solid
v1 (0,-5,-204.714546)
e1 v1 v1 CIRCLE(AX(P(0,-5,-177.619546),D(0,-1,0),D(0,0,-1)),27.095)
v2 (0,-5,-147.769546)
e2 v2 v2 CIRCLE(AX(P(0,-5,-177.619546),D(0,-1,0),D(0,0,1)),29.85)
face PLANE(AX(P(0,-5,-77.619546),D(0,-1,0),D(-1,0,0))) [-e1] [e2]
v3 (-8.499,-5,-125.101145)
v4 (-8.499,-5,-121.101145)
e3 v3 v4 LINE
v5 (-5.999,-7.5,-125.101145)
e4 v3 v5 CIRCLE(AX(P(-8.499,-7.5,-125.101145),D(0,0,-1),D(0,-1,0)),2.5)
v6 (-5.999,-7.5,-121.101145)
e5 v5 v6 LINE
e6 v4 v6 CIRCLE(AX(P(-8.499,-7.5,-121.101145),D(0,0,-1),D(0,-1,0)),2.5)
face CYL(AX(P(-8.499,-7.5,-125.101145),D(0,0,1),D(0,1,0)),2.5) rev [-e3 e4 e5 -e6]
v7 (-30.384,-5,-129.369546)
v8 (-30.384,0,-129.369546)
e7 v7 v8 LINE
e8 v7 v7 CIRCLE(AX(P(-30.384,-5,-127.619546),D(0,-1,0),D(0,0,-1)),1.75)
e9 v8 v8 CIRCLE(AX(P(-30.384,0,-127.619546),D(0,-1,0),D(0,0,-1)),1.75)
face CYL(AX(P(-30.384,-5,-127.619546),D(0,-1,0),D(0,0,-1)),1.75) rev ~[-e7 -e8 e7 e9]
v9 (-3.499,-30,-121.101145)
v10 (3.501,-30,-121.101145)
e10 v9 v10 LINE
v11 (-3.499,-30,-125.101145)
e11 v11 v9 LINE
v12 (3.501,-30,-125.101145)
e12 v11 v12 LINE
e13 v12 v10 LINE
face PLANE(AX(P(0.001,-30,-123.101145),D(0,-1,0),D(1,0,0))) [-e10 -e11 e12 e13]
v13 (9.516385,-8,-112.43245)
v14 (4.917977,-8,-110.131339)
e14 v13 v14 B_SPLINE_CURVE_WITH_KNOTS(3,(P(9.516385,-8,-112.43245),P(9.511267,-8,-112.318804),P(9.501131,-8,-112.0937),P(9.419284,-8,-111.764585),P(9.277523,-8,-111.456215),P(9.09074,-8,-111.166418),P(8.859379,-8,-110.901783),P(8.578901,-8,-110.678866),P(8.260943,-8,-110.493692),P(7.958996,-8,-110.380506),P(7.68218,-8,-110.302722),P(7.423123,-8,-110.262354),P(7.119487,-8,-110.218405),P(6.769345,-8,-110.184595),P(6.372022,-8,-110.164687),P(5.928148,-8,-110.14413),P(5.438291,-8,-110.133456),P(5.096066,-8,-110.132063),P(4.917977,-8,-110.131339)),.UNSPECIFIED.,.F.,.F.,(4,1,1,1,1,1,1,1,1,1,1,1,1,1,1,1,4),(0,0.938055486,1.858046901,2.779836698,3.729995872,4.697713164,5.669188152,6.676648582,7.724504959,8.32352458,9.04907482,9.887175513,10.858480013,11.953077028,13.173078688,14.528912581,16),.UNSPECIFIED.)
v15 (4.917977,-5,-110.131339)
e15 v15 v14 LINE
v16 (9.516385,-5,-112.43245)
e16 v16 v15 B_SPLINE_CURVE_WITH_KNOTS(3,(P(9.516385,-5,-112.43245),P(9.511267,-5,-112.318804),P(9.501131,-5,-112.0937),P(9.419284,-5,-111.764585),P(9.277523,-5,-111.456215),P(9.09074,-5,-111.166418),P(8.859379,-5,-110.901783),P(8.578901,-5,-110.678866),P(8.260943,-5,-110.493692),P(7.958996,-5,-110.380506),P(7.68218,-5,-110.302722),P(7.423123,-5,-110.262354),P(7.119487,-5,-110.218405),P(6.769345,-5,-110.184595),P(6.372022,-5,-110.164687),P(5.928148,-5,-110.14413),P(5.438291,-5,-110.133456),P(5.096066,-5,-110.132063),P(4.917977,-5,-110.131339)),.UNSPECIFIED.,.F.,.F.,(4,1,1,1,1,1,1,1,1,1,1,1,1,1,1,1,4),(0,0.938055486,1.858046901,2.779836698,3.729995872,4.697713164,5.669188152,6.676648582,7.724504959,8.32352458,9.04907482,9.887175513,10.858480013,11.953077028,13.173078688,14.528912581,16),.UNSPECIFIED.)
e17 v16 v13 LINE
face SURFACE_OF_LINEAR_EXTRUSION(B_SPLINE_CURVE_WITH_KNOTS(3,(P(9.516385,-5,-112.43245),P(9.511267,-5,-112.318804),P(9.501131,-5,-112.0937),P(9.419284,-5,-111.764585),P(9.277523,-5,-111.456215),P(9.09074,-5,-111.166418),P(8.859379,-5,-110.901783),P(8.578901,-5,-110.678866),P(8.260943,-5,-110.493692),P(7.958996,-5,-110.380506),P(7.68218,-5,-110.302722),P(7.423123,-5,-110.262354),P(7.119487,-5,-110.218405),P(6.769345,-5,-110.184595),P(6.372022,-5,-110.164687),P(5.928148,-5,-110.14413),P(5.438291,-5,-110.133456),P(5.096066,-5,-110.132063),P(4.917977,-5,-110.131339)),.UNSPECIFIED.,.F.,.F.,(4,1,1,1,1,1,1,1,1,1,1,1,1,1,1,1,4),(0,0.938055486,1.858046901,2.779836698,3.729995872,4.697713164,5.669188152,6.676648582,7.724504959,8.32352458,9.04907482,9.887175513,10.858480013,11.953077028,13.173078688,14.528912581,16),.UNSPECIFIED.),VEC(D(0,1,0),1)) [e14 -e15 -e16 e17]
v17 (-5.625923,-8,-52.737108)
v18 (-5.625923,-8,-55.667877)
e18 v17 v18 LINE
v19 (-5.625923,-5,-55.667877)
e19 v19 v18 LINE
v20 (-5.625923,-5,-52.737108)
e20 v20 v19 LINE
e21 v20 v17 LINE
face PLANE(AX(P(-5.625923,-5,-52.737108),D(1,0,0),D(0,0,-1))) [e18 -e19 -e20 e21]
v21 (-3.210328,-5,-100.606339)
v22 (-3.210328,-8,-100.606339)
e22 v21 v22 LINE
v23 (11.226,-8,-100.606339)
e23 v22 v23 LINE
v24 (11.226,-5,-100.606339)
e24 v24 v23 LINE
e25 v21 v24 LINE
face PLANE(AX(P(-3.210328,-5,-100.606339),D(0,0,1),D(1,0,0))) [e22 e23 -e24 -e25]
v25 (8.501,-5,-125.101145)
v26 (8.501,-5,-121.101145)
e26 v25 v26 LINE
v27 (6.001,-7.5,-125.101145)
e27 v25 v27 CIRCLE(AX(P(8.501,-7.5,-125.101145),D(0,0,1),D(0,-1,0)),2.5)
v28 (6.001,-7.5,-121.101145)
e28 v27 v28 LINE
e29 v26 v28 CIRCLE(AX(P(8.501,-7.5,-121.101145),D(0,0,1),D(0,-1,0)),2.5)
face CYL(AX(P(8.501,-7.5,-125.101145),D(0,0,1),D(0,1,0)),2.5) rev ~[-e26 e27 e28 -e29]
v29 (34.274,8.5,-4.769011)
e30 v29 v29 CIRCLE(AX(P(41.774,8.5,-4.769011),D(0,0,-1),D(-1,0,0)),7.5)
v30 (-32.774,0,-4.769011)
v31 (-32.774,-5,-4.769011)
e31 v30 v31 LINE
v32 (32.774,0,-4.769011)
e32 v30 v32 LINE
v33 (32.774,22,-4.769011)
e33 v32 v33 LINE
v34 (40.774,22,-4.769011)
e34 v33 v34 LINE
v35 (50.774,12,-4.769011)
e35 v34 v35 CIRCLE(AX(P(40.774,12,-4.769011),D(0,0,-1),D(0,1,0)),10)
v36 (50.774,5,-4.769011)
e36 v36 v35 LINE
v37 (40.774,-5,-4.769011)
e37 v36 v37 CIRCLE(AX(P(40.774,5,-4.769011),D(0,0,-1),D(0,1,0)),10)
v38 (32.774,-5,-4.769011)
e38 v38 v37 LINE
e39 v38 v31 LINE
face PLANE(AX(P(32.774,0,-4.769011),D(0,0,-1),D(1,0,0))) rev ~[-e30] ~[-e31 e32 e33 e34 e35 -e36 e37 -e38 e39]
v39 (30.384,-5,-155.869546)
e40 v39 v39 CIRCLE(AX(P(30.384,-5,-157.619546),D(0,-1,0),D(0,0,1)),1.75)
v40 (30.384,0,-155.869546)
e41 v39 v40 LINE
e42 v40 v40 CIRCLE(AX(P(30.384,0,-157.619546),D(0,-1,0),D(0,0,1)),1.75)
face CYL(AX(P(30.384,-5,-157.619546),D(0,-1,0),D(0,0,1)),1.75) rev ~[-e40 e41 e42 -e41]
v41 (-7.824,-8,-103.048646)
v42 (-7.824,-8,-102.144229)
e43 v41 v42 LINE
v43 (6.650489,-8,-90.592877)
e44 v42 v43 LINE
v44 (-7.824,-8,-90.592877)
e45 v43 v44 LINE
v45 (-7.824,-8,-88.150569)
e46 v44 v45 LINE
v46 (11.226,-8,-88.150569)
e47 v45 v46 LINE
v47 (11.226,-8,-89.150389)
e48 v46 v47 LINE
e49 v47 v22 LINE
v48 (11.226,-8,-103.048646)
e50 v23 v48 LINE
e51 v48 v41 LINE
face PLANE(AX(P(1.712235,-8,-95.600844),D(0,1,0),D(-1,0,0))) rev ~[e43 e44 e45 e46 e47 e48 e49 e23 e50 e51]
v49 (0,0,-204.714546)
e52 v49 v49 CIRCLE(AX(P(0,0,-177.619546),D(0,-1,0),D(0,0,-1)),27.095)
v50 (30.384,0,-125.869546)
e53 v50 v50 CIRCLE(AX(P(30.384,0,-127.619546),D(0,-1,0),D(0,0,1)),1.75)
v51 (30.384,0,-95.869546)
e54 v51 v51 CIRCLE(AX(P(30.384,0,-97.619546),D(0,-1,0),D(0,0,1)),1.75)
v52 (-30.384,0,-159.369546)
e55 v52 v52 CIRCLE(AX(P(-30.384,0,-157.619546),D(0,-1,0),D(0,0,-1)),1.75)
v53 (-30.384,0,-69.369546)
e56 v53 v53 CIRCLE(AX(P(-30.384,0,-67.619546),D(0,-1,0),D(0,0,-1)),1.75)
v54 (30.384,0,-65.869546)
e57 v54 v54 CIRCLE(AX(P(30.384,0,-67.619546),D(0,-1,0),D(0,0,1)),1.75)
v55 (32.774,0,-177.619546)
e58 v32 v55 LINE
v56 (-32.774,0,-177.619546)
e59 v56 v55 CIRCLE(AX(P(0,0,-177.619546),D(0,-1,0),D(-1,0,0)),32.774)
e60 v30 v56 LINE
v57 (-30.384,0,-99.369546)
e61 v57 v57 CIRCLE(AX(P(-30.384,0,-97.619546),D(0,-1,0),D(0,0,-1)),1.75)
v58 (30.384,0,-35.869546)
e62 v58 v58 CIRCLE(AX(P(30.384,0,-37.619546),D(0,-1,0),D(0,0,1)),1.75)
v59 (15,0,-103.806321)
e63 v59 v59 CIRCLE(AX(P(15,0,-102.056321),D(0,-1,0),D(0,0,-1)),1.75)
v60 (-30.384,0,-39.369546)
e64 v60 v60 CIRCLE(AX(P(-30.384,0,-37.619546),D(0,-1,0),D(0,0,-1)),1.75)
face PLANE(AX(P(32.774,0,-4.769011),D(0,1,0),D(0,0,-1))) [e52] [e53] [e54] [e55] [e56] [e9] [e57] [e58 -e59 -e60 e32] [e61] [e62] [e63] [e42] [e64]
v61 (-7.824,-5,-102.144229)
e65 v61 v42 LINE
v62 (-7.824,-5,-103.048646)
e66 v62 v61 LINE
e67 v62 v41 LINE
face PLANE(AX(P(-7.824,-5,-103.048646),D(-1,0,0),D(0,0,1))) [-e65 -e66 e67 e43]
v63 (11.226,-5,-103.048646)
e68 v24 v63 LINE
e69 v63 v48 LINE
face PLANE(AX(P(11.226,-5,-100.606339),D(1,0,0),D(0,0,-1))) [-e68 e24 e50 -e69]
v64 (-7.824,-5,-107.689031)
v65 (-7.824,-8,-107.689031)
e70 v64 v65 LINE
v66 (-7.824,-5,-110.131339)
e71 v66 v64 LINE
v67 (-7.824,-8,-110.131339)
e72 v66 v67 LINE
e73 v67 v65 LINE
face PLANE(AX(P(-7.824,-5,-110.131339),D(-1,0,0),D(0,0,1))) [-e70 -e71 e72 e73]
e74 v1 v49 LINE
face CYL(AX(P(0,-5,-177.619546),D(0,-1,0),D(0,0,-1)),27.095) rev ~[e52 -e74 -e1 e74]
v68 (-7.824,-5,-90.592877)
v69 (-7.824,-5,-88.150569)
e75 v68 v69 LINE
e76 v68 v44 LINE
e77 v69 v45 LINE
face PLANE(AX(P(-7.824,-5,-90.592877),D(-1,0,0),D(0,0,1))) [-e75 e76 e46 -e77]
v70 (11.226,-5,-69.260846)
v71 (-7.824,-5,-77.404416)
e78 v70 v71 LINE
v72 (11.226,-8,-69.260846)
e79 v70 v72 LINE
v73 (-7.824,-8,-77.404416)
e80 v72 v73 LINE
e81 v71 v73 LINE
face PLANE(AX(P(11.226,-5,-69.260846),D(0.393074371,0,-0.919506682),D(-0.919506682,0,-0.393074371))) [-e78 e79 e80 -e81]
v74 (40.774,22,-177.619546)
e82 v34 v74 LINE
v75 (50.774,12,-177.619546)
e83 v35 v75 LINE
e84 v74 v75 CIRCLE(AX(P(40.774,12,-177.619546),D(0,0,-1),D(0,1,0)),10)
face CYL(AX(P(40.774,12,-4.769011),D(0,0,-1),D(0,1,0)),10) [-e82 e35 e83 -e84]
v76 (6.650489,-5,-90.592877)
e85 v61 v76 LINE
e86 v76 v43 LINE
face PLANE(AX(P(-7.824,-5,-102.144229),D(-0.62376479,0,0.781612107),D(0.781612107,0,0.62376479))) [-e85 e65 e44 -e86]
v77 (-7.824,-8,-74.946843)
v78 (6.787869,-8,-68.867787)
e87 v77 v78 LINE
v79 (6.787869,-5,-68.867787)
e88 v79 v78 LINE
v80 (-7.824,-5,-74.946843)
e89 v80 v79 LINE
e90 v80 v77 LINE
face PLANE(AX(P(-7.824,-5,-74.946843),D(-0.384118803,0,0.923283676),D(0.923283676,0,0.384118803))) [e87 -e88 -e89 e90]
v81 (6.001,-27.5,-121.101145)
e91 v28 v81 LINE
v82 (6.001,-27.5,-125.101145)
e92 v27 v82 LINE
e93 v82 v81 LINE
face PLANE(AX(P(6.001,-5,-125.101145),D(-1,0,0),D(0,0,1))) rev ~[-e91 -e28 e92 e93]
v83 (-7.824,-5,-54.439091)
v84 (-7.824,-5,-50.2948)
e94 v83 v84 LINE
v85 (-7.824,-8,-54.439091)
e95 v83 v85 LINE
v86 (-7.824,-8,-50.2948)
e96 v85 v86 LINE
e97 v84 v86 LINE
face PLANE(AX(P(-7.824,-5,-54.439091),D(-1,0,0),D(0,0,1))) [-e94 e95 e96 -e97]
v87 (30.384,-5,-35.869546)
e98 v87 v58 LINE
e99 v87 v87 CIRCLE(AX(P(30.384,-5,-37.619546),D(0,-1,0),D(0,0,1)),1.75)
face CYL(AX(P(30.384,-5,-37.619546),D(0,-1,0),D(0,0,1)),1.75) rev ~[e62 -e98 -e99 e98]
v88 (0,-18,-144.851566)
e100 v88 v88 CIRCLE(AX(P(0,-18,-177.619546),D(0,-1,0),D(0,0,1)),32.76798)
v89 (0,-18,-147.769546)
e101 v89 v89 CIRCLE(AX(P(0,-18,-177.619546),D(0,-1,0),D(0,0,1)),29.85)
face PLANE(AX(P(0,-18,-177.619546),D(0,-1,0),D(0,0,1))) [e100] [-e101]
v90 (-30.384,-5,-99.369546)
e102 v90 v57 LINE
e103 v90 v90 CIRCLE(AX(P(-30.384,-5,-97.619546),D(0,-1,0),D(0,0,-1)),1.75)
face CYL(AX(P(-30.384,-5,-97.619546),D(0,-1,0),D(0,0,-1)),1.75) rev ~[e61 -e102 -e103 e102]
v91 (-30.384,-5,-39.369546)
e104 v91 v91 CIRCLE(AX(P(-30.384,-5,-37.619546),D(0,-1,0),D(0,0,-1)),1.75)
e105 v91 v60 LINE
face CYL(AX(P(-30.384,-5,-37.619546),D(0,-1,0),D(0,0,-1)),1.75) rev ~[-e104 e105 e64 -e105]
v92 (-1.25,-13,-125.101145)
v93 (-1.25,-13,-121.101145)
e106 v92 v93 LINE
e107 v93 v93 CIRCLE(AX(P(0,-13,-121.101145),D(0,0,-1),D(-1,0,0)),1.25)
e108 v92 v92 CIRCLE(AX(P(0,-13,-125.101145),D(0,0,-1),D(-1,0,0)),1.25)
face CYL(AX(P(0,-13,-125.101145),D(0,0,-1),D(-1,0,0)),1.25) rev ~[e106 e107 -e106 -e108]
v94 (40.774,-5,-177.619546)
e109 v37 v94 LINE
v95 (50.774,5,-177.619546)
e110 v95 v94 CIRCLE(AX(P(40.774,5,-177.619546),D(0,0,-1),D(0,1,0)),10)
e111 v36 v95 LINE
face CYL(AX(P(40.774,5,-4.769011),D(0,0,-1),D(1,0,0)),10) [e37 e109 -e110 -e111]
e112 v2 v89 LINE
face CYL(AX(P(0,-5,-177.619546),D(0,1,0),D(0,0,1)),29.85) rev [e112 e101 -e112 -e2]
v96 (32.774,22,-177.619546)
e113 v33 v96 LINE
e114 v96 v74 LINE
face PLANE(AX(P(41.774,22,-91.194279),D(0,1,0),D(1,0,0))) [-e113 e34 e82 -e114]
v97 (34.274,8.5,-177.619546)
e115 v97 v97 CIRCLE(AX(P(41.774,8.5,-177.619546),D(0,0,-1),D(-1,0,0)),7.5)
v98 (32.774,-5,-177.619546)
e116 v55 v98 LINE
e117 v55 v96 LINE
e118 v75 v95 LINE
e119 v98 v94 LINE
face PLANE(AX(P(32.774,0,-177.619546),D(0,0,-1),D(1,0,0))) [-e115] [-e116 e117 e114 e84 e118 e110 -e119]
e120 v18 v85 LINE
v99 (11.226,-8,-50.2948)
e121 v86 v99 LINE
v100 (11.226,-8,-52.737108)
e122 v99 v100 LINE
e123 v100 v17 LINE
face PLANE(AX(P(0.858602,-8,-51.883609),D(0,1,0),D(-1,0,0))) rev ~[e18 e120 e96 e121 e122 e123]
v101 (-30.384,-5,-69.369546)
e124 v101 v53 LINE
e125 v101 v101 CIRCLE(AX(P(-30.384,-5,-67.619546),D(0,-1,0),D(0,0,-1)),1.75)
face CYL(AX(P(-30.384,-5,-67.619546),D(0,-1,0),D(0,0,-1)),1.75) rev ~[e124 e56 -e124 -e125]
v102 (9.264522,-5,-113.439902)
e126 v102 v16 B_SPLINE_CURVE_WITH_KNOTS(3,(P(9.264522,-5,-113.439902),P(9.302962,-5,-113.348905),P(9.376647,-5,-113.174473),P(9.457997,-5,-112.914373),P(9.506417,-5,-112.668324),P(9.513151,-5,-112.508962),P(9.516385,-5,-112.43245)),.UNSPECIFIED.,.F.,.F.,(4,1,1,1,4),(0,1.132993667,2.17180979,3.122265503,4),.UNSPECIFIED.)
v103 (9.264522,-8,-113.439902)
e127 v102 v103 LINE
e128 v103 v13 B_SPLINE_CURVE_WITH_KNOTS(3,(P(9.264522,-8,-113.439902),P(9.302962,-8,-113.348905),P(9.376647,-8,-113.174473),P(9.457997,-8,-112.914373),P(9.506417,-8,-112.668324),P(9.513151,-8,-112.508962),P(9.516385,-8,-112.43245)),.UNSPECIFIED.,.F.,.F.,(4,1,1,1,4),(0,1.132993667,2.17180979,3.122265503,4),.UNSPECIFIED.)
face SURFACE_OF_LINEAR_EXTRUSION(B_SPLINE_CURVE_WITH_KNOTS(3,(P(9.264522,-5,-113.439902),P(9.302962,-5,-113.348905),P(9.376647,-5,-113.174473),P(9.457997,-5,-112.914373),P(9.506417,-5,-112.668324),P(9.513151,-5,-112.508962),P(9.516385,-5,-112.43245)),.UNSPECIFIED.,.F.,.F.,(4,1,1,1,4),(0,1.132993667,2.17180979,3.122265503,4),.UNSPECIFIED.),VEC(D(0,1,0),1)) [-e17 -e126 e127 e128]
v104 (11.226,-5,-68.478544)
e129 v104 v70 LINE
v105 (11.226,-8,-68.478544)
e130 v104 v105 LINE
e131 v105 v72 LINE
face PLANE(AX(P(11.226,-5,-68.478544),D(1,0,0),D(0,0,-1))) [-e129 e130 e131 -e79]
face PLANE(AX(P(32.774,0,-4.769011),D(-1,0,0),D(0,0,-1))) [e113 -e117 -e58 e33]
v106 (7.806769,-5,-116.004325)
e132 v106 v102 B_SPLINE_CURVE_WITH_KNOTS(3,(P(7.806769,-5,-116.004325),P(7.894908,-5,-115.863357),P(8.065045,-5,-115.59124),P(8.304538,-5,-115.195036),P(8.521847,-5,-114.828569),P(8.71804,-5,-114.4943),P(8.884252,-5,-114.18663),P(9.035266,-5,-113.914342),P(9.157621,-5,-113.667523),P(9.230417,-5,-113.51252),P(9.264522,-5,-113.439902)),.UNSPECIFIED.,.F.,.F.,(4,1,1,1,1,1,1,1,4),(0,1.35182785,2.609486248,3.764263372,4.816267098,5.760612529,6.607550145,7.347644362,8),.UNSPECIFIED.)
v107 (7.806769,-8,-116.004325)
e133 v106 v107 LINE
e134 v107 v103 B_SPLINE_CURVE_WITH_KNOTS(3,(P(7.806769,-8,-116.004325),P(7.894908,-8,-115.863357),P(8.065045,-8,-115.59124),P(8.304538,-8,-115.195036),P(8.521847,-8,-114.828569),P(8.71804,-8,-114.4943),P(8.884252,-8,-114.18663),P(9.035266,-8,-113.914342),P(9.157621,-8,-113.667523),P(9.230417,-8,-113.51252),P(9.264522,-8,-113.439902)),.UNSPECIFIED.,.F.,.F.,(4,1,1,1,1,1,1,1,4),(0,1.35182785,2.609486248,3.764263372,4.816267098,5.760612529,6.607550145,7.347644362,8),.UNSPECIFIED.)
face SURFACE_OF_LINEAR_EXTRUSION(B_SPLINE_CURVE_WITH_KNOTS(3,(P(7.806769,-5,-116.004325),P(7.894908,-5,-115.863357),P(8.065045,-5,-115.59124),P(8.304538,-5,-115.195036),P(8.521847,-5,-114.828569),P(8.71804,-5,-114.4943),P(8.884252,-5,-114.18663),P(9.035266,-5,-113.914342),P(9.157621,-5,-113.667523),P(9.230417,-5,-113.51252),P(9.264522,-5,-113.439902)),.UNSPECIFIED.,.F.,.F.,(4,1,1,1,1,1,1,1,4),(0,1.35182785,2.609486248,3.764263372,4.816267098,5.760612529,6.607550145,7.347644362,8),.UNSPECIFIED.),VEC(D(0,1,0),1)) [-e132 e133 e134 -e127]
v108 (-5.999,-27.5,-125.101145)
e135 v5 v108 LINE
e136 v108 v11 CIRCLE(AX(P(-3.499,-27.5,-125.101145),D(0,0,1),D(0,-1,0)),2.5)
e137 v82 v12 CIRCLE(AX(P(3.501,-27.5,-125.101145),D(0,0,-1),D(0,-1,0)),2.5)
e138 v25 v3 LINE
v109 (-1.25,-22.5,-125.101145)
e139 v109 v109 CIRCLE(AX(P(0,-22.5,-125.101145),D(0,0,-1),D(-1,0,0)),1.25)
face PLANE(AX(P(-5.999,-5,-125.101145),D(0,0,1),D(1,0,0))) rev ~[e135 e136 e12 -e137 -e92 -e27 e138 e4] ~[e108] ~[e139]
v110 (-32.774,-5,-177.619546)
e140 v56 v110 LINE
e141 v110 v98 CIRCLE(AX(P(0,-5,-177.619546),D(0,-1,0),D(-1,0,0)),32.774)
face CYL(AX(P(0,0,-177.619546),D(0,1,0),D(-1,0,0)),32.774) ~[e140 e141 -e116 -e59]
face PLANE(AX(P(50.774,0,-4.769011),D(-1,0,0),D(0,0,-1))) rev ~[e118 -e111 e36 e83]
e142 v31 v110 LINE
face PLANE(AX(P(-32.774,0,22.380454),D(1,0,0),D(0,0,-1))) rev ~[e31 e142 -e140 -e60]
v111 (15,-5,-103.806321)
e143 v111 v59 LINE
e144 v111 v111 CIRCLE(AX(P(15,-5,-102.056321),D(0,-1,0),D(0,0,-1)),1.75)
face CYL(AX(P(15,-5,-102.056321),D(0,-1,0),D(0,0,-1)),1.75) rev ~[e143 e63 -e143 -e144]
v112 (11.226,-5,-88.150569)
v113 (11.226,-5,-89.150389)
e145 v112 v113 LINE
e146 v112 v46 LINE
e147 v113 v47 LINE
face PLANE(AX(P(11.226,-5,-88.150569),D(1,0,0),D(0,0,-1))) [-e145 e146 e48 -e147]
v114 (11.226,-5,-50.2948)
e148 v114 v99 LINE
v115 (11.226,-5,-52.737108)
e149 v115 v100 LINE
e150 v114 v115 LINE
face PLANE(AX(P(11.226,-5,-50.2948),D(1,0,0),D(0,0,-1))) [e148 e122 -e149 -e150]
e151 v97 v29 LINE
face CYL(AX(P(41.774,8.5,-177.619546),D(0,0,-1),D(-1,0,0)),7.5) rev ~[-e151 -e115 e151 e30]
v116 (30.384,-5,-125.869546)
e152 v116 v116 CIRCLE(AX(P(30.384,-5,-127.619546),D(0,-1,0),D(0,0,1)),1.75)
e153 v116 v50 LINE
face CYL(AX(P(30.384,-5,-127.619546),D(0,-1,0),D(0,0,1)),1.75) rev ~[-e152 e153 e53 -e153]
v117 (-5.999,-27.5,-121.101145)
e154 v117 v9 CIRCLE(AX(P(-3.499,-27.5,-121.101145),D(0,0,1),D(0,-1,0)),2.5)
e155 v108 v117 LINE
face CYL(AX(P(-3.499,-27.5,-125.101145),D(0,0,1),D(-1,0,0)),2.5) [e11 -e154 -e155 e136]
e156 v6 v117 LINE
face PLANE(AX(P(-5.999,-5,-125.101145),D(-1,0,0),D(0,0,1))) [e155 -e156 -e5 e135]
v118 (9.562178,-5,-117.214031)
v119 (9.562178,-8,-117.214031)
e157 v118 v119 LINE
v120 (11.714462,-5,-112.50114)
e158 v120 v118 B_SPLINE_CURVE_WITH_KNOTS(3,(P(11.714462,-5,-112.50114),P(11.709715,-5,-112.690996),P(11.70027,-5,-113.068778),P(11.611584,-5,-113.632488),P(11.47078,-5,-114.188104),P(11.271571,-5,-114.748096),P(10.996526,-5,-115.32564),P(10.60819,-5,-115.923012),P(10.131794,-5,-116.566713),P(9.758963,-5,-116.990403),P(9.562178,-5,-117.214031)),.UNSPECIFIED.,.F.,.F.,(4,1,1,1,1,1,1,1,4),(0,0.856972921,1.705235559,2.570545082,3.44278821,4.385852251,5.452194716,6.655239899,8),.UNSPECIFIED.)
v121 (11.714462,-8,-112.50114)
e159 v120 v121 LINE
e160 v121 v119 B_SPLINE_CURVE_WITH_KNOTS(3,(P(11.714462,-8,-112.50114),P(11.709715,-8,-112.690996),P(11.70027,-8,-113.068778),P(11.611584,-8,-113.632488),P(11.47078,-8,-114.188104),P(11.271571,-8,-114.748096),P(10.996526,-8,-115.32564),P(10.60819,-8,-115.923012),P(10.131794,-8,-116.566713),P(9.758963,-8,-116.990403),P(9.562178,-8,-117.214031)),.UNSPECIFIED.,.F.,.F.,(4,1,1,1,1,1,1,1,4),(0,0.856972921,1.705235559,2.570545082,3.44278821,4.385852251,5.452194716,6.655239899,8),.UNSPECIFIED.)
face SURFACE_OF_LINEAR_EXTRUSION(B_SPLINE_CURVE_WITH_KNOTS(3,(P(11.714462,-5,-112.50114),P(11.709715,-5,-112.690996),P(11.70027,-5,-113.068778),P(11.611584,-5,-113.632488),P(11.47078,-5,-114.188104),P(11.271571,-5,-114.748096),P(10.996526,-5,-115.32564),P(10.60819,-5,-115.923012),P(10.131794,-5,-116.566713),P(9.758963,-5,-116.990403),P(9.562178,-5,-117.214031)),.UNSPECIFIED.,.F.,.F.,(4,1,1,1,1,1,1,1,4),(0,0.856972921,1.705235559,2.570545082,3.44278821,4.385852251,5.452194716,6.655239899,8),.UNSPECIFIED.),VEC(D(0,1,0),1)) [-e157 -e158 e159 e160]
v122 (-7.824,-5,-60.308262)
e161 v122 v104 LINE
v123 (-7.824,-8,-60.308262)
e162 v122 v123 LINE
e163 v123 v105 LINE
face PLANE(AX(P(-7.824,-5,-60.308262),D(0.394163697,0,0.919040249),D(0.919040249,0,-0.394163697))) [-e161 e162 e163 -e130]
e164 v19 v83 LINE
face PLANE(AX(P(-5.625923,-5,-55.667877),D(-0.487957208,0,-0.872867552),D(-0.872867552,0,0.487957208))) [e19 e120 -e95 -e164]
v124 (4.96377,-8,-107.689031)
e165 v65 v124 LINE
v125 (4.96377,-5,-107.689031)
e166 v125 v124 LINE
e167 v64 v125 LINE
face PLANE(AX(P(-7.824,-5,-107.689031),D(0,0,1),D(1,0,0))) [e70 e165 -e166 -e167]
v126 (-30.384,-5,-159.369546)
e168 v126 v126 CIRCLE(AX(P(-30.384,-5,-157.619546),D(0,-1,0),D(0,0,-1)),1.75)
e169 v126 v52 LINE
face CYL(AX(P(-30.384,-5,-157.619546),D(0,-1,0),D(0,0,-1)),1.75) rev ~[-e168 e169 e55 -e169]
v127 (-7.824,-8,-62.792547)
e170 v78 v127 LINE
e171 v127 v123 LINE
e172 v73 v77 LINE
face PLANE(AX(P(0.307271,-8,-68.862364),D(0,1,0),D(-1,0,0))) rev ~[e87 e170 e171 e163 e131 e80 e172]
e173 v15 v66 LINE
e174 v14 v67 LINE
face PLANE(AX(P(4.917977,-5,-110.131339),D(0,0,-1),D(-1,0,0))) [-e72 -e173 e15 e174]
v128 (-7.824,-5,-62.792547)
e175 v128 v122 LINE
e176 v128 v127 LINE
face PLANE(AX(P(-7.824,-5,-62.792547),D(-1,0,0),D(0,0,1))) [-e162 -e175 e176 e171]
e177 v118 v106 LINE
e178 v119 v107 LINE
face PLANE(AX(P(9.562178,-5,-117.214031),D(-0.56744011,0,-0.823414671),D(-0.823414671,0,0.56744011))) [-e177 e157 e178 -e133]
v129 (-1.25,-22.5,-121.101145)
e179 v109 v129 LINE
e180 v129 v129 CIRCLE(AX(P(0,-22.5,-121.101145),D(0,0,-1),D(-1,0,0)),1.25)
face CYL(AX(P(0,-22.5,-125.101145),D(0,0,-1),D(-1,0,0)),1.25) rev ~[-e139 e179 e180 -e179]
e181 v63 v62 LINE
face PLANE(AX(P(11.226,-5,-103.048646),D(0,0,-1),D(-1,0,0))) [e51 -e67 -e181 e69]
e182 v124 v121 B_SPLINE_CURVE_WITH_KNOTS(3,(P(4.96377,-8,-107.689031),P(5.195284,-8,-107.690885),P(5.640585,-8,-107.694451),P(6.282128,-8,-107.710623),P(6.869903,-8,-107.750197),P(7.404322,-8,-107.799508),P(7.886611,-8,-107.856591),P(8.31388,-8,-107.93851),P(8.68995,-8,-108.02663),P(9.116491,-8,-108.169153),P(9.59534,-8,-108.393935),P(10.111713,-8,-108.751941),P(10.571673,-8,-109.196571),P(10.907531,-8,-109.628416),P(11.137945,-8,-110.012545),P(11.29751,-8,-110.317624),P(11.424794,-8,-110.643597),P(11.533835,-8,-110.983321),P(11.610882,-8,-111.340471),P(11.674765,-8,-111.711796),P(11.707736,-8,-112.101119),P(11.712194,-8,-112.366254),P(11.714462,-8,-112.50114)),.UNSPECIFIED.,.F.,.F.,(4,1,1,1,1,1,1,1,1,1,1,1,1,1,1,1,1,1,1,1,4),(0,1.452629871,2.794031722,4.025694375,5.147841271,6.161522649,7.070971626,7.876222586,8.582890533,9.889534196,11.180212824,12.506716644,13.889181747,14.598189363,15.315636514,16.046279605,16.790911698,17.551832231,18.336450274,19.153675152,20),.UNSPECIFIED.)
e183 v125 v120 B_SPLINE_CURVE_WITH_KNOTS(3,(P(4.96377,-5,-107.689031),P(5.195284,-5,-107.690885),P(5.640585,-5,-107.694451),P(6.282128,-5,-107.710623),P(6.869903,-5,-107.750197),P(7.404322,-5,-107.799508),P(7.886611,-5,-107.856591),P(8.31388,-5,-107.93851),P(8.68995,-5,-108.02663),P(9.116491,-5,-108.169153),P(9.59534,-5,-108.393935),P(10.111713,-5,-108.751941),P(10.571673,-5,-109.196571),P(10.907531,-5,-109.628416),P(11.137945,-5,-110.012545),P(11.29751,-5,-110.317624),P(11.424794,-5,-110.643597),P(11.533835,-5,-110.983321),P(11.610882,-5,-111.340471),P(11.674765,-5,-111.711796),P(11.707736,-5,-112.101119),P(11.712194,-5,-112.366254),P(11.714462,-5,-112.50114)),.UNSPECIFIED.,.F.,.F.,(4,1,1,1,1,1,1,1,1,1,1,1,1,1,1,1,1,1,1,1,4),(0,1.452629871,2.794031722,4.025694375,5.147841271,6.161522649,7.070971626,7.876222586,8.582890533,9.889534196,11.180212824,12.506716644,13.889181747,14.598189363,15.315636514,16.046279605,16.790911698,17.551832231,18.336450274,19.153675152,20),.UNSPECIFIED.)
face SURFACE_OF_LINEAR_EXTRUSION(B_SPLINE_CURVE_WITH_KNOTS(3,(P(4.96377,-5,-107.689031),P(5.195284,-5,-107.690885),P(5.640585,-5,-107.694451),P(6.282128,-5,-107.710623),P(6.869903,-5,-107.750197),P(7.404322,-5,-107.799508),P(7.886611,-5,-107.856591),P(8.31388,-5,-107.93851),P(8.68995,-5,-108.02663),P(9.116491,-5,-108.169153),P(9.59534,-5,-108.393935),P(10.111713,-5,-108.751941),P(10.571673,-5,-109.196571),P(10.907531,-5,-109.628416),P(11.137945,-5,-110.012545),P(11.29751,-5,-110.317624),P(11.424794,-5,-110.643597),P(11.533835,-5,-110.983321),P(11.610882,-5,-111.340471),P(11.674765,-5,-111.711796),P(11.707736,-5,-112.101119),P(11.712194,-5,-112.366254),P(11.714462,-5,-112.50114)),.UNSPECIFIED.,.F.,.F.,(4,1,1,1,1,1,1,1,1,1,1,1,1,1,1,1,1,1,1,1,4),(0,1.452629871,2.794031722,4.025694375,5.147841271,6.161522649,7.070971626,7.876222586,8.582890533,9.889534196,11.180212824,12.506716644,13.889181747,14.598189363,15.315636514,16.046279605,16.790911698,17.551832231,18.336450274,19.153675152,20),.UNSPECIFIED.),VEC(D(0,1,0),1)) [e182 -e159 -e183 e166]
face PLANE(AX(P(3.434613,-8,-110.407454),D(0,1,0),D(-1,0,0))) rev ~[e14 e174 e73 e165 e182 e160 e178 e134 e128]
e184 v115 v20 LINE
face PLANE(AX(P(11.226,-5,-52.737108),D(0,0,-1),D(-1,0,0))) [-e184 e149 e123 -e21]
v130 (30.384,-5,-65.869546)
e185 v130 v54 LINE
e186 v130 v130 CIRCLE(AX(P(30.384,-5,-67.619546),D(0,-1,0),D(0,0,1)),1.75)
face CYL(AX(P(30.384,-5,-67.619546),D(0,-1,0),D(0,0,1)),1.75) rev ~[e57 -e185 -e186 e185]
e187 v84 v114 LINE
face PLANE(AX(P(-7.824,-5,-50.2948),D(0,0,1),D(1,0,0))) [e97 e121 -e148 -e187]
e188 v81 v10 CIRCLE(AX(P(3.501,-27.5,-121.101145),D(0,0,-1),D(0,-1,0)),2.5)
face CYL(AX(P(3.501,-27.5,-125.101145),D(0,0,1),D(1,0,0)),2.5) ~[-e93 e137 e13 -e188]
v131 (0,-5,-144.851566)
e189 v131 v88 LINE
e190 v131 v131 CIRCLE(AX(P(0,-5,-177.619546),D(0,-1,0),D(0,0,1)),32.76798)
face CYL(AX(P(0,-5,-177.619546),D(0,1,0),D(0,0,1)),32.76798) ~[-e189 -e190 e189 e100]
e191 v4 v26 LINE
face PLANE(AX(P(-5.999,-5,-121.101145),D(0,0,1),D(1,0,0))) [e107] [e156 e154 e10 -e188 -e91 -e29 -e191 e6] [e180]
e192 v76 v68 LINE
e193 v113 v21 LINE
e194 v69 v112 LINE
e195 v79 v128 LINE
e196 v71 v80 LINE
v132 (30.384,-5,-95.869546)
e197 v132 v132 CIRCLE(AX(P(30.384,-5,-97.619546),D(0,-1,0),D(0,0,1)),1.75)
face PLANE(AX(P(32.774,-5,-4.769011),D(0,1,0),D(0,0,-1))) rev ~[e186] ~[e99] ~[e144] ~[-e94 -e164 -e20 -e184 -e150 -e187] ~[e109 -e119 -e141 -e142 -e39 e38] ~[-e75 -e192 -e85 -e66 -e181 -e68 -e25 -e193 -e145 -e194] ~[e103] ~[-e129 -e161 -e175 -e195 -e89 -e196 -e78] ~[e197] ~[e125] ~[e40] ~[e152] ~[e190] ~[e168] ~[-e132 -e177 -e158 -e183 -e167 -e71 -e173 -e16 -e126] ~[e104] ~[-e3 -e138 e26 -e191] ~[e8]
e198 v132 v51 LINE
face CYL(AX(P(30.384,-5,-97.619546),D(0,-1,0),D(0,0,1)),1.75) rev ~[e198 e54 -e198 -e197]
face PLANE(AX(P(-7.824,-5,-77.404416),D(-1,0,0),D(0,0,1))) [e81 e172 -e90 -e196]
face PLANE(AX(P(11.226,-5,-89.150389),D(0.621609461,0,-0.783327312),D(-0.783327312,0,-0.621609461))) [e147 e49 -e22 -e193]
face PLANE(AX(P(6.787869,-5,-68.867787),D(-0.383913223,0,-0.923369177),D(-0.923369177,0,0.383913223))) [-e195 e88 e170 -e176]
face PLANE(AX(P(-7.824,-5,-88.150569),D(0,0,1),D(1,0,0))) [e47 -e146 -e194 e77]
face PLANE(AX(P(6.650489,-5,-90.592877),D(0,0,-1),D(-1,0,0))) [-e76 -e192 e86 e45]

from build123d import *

# Parameters (mm, degrees)
SKETCH1_R            = 2.75
SKETCH1_R_2          = 1.25
SKETCH1_R_3          = 1.75
SKETCH1_R_4          = 4.5
BOSS_EXTRUDE10_DEPTH = 5
SKETCH1_16_R         = 1.25
BOSS_EXTRUDE11_DEPTH = 5
SKETCH3_R            = 1.75
CUT_EXTRUDE5_DEPTH   = 17
CUT_EXTRUDE7_DEPTH   = 10
SKETCH1_18_R         = 4.5
SKETCH1_18_R_2       = 1.75
BOSS_EXTRUDE12_DEPTH = 5
SKETCH10_R           = 32.76798012
SKETCH10_R_2         = 29.85
BOSS_EXTRUDE13_DEPTH = 13
SKETCH11_R           = 27.095
CUT_EXTRUDE8_DEPTH   = 13
BOSS_EXTRUDE14_DEPTH = 3
SKETCH13_W           = 12
SKETCH13_H           = 4
BOSS_EXTRUDE15_DEPTH = 25
SKETCH14_R           = 1.25
CUT_EXTRUDE9_DEPTH   = 25
FILLET1_R            = 2.5
SKETCH18_W           = 172.850535033
SKETCH18_H           = 5
BOSS_EXTRUDE18_DEPTH = 18
SKETCH19_W           = 18
SKETCH19_H           = 172.850535033
BOSS_EXTRUDE19_DEPTH = 22
SKETCH20_R           = 7.5
CUT_EXTRUDE11_DEPTH  = 208
FILLET3_R            = 10


with BuildPart() as part:
    # Sketch1 → Boss-Extrude10 (new body)
    with BuildSketch(Plane(origin=(0, 0, 0), x_dir=(1, 0, 0), z_dir=(0, 1, 0))):
        with BuildLine():
            Line((-32.774, 177.619546288), (-32.774, -22.380453712))
            ThreePointArc((-32.774, -22.380453712), (0, -55.154453712), (32.774, -22.380453712))
            Line((32.774, -22.380453712), (32.774, 177.619546288))
            ThreePointArc((32.774, 177.619546288), (0, 210.393546288), (-32.774, 177.619546288))
        make_face()
        with Locations((-11.258330249, -28.880453712)):
            Circle(SKETCH1_R, mode=Mode.SUBTRACT)
        with Locations((-11.258330249, -15.880453712)):
            Circle(SKETCH1_R, mode=Mode.SUBTRACT)
        with Locations((-6.733414, 27.619546288)):
            Circle(SKETCH1_R_2, mode=Mode.SUBTRACT)
        with Locations((-6.733414, 37.119546288)):
            Circle(SKETCH1_R_2, mode=Mode.SUBTRACT)
        with Locations((-14.032659813, 67.637846288)):
            Circle(SKETCH1_R_3, mode=Mode.SUBTRACT)
        with Locations((0, -35.380453712)):
            Circle(SKETCH1_R, mode=Mode.SUBTRACT)
        with Locations((11.258330249, -28.880453712)):
            Circle(SKETCH1_R, mode=Mode.SUBTRACT)
        with Locations((0, -9.380453712)):
            Circle(SKETCH1_R, mode=Mode.SUBTRACT)
        with Locations((11.258330249, -15.880453712)):
            Circle(SKETCH1_R, mode=Mode.SUBTRACT)
        with Locations((0, 53.605186475)):
            Circle(SKETCH1_R_3, mode=Mode.SUBTRACT)
        with Locations((14.032659813, 67.637846288)):
            Circle(SKETCH1_R_3, mode=Mode.SUBTRACT)
        with Locations((0, 81.6705061)):
            Circle(SKETCH1_R_3, mode=Mode.SUBTRACT)
        with Locations((0, 177.619546288)):
            Circle(SKETCH1_R_4, mode=Mode.SUBTRACT)
        with Locations((0, 67.637846288)):
            Circle(SKETCH1_R_4, mode=Mode.SUBTRACT)
    extrude(amount=-BOSS_EXTRUDE10_DEPTH)

    # Sketch1<16> → Boss-Extrude11 (add)
    with BuildSketch(Plane(origin=(0, 0, 0), x_dir=(1, 0, 0), z_dir=(0, 1, 0))):
        with Locations((-6.733414, 37.119546288)):
            Circle(SKETCH1_16_R)
        with Locations((-6.733414, 27.619546288)):
            Circle(SKETCH1_16_R)
    extrude(amount=-BOSS_EXTRUDE11_DEPTH)

    # Sketch3 → Cut-Extrude5 (cut)
    with BuildSketch(Plane.XZ.offset(5)):
        with Locations((15, -102.056321071)):
            Circle(SKETCH3_R)
        with Locations((-30.384, -67.619546288)):
            Circle(SKETCH3_R)
        with Locations((-30.384, -37.619546288)):
            Circle(SKETCH3_R)
        with Locations((-30.384, -97.619546288)):
            Circle(SKETCH3_R)
        with Locations((-30.384, -127.619546288)):
            Circle(SKETCH3_R)
        with Locations((-30.384, -157.619546288)):
            Circle(SKETCH3_R)
        with Locations((30.384, -157.619546288)):
            Circle(SKETCH3_R)
        with Locations((30.384, -127.619546288)):
            Circle(SKETCH3_R)
        with Locations((30.384, -97.619546288)):
            Circle(SKETCH3_R)
        with Locations((30.384, -67.619546288)):
            Circle(SKETCH3_R)
        with Locations((30.384, -37.619546288)):
            Circle(SKETCH3_R)
    extrude(amount=-CUT_EXTRUDE5_DEPTH, mode=Mode.SUBTRACT)

    # Sketch2 → Cut-Extrude7 (cut)
    with BuildSketch(Plane.XZ):
        with BuildLine():
            Line((-32.774000001, -4.769011255), (32.774000001, -4.769011255))
            Line((32.774000001, -4.769011255), (32.774000001, 22.380453712))
            ThreePointArc((32.774000001, 22.380453712), (0, 55.154453713), (-32.774000001, 22.380453712))
            Line((-32.774000001, 22.380453712), (-32.774000001, -4.769011255))
        make_face()
    extrude(amount=CUT_EXTRUDE7_DEPTH, mode=Mode.SUBTRACT)

    # Sketch1<18> → Boss-Extrude12 (add)
    with BuildSketch(Plane(origin=(0, 0, 0), x_dir=(1, 0, 0), z_dir=(0, 1, 0))):
        with Locations((0, 67.637846288)):
            Circle(SKETCH1_18_R)
        with Locations((0, 53.605186475)):
            Circle(SKETCH1_18_R_2)
        with Locations((-14.032659813, 67.637846288)):
            Circle(SKETCH1_18_R_2)
        with Locations((0, 81.6705061)):
            Circle(SKETCH1_18_R_2)
        with Locations((14.032659813, 67.637846288)):
            Circle(SKETCH1_18_R_2)
    extrude(amount=-BOSS_EXTRUDE12_DEPTH)

    # Sketch10 → Boss-Extrude13 (add)
    with BuildSketch(Plane.XZ.offset(5)):
        with Locations((0, -177.619546288)):
            Circle(SKETCH10_R)
        with Locations((0, -177.619546288)):
            Circle(SKETCH10_R_2, mode=Mode.SUBTRACT)
    extrude(amount=BOSS_EXTRUDE13_DEPTH)

    # Sketch11 → Cut-Extrude8 (cut)
    with BuildSketch(Plane.XZ.offset(5)):
        with Locations((0, -177.619546288)):
            Circle(SKETCH11_R)
    extrude(amount=-CUT_EXTRUDE8_DEPTH, mode=Mode.SUBTRACT)

    # Sketch5 → Boss-Extrude14 (add)
    with BuildSketch(Plane.XZ.offset(5)):
        Polygon((-7.824000001, -54.439091018), (-7.824000001, -50.294800153), (11.225999999, -50.294800153), (11.225999999, -52.737107845), (-5.625923078, -52.737107845), (-5.625923078, -55.667877076), align=None)
        Polygon((-7.824000001, -77.404415537), (-7.824000001, -74.946843422), (6.78786899, -68.867786932), (-7.824000001, -62.792546547), (-7.824000001, -60.308261691), (11.225999999, -68.478544143), (11.225999999, -69.260845826), align=None)
        Polygon((11.225999999, -103.048646307), (-7.824000001, -103.048646307), (-7.824000001, -102.144229239), (6.650489182, -90.592877076), (-7.824000001, -90.592877076), (-7.824000001, -88.150569384), (11.225999999, -88.150569384), (11.225999999, -89.150389095), (-3.210328126, -100.606338614), (11.225999999, -100.606338614), align=None)
        with BuildLine():
            Line((-7.824000001, -110.131338614), (-7.824000001, -107.689030922))
            Line((-7.824000001, -107.689030922), (4.963770432, -107.689030922))
            add(Edge.make_bspline(
                [(4.963770432, -107.689030922), (5.195284298, -107.690885051), (5.64058499, -107.694451338), (6.282127583, -107.710622767), (6.869902619, -107.750196634), (7.404321802, -107.799507581), (7.886610584, -107.856591103), (8.313879678, -107.93850968), (8.689949893, -108.026630447), (9.116491069, -108.169153007), (9.595339884, -108.393934907), (10.111712604, -108.751940741), (10.571673312, -109.196571131), (10.907530608, -109.628416016), (11.13794534, -110.012545465), (11.297510075, -110.317623544), (11.424793799, -110.643597173), (11.533834774, -110.983321068), (11.610882457, -111.340471014), (11.674764914, -111.711796449), (11.707736212, -112.10111909), (11.712193771, -112.36625392), (11.714461538, -112.501140297)],
                knots=[0, 0, 0, 0, 1.452629871, 2.794031722, 4.025694375, 5.147841271, 6.161522649, 7.070971626, 7.876222586, 8.582890533, 9.889534196, 11.180212824, 12.506716644, 13.889181747, 14.598189363, 15.315636514, 16.046279605, 16.790911698, 17.551832231, 18.336450274, 19.153675152, 20, 20, 20, 20], degree=3))
            add(Edge.make_bspline(
                [(11.714461538, -112.501140297), (11.709715065, -112.690996015), (11.700270364, -113.068777754), (11.611584234, -113.632488096), (11.470780234, -114.18810384), (11.271570837, -114.74809611), (10.996525721, -115.32564021), (10.608190367, -115.923011587), (10.131794371, -116.566713359), (9.758962639, -116.990402865), (9.562177884, -117.214030922)],
                knots=[0, 0, 0, 0, 0.856972921, 1.705235559, 2.570545082, 3.44278821, 4.385852251, 5.452194716, 6.655239899, 8, 8, 8, 8], degree=3))
            Line((9.562177884, -117.214030922), (7.80676923, -116.004325393))
            add(Edge.make_bspline(
                [(7.80676923, -116.004325393), (7.894907738, -115.863356861), (8.065044953, -115.59123978), (8.304537659, -115.195035974), (8.521847451, -114.828568699), (8.718040268, -114.494300424), (8.884251955, -114.186630498), (9.035266134, -113.914342494), (9.157620565, -113.667523035), (9.230416916, -113.512520303), (9.264521634, -113.439902316)],
                knots=[0, 0, 0, 0, 1.35182785, 2.609486248, 3.764263372, 4.816267098, 5.760612529, 6.607550145, 7.347644362, 8, 8, 8, 8], degree=3))
            add(Edge.make_bspline(
                [(9.264521634, -113.439902316), (9.30296182, -113.348904612), (9.376646938, -113.174473182), (9.457997196, -112.91437331), (9.506417053, -112.668323997), (9.513151386, -112.508961908), (9.516384615, -112.432450393)],
                knots=[0, 0, 0, 0, 1.132993667, 2.17180979, 3.122265503, 4, 4, 4, 4], degree=3))
            add(Edge.make_bspline(
                [(9.516384615, -112.432450393), (9.511267111, -112.318803952), (9.501130651, -112.093699551), (9.419283826, -111.764584671), (9.277522501, -111.45621453), (9.090739979, -111.16641845), (8.859379113, -110.901782723), (8.578900769, -110.678865607), (8.260942683, -110.493691853), (7.958995713, -110.380505827), (7.682179611, -110.302721603), (7.423123036, -110.262354362), (7.119487359, -110.218405126), (6.769344681, -110.184594649), (6.372022147, -110.164686683), (5.928147668, -110.144130246), (5.438290975, -110.133455838), (5.096065936, -110.13206328), (4.917977163, -110.131338614)],
                knots=[0, 0, 0, 0, 0.938055486, 1.858046901, 2.779836698, 3.729995872, 4.697713164, 5.669188152, 6.676648582, 7.724504959, 8.32352458, 9.04907482, 9.887175513, 10.858480013, 11.953077028, 13.173078688, 14.528912581, 16, 16, 16, 16], degree=3))
            Line((4.917977163, -110.131338614), (-7.824000001, -110.131338614))
        make_face()
    extrude(amount=BOSS_EXTRUDE14_DEPTH)

    # Sketch13 → Boss-Extrude15 (add)
    with BuildSketch(Plane.XZ.offset(5)):
        with Locations((0.000999999, -123.10114465)):
            Rectangle(SKETCH13_W, SKETCH13_H)
    extrude(amount=BOSS_EXTRUDE15_DEPTH)

    # Sketch14 → Cut-Extrude9 (cut)
    with BuildSketch(Plane(origin=(0, 0, -125.10114465), x_dir=(-1, 0, 0), z_dir=(0, 0, -1))):
        with Locations((0, -22.5)):
            Circle(SKETCH14_R)
        with Locations((0, -13)):
            Circle(SKETCH14_R)
    extrude(amount=-CUT_EXTRUDE9_DEPTH, mode=Mode.SUBTRACT)

    # Fillet1
    fillet1_edges = [part.edges().sort_by_distance(p)[0] for p in [
        (6.000999999, -30, -123.10114465),
        (-5.999000001, -30, -123.10114465),
        (-5.999000001, -5, -123.10114465),
        (6.000999999, -5, -123.10114465),
    ]]
    fillet(fillet1_edges, radius=FILLET1_R)

    # Sketch18 → Boss-Extrude18 (add)
    with BuildSketch(Plane(origin=(32.774, 0, 0), x_dir=(0, 0, -1), z_dir=(1, 0, 0))):
        with Locations((91.194278772, -2.5)):
            Rectangle(SKETCH18_W, SKETCH18_H)
    extrude(amount=BOSS_EXTRUDE18_DEPTH)

    # Sketch19 → Boss-Extrude19 (add)
    with BuildSketch(Plane(origin=(0, 0, 0), x_dir=(1, 0, 0), z_dir=(0, 1, 0))):
        with Locations((41.774, 91.194278772)):
            Rectangle(SKETCH19_W, SKETCH19_H)
    extrude(amount=BOSS_EXTRUDE19_DEPTH)

    # Sketch20 → Cut-Extrude11 (cut)
    with BuildSketch(Plane(origin=(0, 0, -177.619546288), x_dir=(-1, 0, 0), z_dir=(0, 0, -1))):
        with Locations((-41.774, 8.5)):
            Circle(SKETCH20_R)
    extrude(amount=-CUT_EXTRUDE11_DEPTH, mode=Mode.SUBTRACT)

    # Fillet3
    fillet3_edges = [part.edges().sort_by_distance(p)[0] for p in [
        (50.774, -5, -91.194278771),
        (50.774, 22, -91.194278771),
    ]]
    fillet(fillet3_edges, radius=FILLET3_R)


solid = part.part
